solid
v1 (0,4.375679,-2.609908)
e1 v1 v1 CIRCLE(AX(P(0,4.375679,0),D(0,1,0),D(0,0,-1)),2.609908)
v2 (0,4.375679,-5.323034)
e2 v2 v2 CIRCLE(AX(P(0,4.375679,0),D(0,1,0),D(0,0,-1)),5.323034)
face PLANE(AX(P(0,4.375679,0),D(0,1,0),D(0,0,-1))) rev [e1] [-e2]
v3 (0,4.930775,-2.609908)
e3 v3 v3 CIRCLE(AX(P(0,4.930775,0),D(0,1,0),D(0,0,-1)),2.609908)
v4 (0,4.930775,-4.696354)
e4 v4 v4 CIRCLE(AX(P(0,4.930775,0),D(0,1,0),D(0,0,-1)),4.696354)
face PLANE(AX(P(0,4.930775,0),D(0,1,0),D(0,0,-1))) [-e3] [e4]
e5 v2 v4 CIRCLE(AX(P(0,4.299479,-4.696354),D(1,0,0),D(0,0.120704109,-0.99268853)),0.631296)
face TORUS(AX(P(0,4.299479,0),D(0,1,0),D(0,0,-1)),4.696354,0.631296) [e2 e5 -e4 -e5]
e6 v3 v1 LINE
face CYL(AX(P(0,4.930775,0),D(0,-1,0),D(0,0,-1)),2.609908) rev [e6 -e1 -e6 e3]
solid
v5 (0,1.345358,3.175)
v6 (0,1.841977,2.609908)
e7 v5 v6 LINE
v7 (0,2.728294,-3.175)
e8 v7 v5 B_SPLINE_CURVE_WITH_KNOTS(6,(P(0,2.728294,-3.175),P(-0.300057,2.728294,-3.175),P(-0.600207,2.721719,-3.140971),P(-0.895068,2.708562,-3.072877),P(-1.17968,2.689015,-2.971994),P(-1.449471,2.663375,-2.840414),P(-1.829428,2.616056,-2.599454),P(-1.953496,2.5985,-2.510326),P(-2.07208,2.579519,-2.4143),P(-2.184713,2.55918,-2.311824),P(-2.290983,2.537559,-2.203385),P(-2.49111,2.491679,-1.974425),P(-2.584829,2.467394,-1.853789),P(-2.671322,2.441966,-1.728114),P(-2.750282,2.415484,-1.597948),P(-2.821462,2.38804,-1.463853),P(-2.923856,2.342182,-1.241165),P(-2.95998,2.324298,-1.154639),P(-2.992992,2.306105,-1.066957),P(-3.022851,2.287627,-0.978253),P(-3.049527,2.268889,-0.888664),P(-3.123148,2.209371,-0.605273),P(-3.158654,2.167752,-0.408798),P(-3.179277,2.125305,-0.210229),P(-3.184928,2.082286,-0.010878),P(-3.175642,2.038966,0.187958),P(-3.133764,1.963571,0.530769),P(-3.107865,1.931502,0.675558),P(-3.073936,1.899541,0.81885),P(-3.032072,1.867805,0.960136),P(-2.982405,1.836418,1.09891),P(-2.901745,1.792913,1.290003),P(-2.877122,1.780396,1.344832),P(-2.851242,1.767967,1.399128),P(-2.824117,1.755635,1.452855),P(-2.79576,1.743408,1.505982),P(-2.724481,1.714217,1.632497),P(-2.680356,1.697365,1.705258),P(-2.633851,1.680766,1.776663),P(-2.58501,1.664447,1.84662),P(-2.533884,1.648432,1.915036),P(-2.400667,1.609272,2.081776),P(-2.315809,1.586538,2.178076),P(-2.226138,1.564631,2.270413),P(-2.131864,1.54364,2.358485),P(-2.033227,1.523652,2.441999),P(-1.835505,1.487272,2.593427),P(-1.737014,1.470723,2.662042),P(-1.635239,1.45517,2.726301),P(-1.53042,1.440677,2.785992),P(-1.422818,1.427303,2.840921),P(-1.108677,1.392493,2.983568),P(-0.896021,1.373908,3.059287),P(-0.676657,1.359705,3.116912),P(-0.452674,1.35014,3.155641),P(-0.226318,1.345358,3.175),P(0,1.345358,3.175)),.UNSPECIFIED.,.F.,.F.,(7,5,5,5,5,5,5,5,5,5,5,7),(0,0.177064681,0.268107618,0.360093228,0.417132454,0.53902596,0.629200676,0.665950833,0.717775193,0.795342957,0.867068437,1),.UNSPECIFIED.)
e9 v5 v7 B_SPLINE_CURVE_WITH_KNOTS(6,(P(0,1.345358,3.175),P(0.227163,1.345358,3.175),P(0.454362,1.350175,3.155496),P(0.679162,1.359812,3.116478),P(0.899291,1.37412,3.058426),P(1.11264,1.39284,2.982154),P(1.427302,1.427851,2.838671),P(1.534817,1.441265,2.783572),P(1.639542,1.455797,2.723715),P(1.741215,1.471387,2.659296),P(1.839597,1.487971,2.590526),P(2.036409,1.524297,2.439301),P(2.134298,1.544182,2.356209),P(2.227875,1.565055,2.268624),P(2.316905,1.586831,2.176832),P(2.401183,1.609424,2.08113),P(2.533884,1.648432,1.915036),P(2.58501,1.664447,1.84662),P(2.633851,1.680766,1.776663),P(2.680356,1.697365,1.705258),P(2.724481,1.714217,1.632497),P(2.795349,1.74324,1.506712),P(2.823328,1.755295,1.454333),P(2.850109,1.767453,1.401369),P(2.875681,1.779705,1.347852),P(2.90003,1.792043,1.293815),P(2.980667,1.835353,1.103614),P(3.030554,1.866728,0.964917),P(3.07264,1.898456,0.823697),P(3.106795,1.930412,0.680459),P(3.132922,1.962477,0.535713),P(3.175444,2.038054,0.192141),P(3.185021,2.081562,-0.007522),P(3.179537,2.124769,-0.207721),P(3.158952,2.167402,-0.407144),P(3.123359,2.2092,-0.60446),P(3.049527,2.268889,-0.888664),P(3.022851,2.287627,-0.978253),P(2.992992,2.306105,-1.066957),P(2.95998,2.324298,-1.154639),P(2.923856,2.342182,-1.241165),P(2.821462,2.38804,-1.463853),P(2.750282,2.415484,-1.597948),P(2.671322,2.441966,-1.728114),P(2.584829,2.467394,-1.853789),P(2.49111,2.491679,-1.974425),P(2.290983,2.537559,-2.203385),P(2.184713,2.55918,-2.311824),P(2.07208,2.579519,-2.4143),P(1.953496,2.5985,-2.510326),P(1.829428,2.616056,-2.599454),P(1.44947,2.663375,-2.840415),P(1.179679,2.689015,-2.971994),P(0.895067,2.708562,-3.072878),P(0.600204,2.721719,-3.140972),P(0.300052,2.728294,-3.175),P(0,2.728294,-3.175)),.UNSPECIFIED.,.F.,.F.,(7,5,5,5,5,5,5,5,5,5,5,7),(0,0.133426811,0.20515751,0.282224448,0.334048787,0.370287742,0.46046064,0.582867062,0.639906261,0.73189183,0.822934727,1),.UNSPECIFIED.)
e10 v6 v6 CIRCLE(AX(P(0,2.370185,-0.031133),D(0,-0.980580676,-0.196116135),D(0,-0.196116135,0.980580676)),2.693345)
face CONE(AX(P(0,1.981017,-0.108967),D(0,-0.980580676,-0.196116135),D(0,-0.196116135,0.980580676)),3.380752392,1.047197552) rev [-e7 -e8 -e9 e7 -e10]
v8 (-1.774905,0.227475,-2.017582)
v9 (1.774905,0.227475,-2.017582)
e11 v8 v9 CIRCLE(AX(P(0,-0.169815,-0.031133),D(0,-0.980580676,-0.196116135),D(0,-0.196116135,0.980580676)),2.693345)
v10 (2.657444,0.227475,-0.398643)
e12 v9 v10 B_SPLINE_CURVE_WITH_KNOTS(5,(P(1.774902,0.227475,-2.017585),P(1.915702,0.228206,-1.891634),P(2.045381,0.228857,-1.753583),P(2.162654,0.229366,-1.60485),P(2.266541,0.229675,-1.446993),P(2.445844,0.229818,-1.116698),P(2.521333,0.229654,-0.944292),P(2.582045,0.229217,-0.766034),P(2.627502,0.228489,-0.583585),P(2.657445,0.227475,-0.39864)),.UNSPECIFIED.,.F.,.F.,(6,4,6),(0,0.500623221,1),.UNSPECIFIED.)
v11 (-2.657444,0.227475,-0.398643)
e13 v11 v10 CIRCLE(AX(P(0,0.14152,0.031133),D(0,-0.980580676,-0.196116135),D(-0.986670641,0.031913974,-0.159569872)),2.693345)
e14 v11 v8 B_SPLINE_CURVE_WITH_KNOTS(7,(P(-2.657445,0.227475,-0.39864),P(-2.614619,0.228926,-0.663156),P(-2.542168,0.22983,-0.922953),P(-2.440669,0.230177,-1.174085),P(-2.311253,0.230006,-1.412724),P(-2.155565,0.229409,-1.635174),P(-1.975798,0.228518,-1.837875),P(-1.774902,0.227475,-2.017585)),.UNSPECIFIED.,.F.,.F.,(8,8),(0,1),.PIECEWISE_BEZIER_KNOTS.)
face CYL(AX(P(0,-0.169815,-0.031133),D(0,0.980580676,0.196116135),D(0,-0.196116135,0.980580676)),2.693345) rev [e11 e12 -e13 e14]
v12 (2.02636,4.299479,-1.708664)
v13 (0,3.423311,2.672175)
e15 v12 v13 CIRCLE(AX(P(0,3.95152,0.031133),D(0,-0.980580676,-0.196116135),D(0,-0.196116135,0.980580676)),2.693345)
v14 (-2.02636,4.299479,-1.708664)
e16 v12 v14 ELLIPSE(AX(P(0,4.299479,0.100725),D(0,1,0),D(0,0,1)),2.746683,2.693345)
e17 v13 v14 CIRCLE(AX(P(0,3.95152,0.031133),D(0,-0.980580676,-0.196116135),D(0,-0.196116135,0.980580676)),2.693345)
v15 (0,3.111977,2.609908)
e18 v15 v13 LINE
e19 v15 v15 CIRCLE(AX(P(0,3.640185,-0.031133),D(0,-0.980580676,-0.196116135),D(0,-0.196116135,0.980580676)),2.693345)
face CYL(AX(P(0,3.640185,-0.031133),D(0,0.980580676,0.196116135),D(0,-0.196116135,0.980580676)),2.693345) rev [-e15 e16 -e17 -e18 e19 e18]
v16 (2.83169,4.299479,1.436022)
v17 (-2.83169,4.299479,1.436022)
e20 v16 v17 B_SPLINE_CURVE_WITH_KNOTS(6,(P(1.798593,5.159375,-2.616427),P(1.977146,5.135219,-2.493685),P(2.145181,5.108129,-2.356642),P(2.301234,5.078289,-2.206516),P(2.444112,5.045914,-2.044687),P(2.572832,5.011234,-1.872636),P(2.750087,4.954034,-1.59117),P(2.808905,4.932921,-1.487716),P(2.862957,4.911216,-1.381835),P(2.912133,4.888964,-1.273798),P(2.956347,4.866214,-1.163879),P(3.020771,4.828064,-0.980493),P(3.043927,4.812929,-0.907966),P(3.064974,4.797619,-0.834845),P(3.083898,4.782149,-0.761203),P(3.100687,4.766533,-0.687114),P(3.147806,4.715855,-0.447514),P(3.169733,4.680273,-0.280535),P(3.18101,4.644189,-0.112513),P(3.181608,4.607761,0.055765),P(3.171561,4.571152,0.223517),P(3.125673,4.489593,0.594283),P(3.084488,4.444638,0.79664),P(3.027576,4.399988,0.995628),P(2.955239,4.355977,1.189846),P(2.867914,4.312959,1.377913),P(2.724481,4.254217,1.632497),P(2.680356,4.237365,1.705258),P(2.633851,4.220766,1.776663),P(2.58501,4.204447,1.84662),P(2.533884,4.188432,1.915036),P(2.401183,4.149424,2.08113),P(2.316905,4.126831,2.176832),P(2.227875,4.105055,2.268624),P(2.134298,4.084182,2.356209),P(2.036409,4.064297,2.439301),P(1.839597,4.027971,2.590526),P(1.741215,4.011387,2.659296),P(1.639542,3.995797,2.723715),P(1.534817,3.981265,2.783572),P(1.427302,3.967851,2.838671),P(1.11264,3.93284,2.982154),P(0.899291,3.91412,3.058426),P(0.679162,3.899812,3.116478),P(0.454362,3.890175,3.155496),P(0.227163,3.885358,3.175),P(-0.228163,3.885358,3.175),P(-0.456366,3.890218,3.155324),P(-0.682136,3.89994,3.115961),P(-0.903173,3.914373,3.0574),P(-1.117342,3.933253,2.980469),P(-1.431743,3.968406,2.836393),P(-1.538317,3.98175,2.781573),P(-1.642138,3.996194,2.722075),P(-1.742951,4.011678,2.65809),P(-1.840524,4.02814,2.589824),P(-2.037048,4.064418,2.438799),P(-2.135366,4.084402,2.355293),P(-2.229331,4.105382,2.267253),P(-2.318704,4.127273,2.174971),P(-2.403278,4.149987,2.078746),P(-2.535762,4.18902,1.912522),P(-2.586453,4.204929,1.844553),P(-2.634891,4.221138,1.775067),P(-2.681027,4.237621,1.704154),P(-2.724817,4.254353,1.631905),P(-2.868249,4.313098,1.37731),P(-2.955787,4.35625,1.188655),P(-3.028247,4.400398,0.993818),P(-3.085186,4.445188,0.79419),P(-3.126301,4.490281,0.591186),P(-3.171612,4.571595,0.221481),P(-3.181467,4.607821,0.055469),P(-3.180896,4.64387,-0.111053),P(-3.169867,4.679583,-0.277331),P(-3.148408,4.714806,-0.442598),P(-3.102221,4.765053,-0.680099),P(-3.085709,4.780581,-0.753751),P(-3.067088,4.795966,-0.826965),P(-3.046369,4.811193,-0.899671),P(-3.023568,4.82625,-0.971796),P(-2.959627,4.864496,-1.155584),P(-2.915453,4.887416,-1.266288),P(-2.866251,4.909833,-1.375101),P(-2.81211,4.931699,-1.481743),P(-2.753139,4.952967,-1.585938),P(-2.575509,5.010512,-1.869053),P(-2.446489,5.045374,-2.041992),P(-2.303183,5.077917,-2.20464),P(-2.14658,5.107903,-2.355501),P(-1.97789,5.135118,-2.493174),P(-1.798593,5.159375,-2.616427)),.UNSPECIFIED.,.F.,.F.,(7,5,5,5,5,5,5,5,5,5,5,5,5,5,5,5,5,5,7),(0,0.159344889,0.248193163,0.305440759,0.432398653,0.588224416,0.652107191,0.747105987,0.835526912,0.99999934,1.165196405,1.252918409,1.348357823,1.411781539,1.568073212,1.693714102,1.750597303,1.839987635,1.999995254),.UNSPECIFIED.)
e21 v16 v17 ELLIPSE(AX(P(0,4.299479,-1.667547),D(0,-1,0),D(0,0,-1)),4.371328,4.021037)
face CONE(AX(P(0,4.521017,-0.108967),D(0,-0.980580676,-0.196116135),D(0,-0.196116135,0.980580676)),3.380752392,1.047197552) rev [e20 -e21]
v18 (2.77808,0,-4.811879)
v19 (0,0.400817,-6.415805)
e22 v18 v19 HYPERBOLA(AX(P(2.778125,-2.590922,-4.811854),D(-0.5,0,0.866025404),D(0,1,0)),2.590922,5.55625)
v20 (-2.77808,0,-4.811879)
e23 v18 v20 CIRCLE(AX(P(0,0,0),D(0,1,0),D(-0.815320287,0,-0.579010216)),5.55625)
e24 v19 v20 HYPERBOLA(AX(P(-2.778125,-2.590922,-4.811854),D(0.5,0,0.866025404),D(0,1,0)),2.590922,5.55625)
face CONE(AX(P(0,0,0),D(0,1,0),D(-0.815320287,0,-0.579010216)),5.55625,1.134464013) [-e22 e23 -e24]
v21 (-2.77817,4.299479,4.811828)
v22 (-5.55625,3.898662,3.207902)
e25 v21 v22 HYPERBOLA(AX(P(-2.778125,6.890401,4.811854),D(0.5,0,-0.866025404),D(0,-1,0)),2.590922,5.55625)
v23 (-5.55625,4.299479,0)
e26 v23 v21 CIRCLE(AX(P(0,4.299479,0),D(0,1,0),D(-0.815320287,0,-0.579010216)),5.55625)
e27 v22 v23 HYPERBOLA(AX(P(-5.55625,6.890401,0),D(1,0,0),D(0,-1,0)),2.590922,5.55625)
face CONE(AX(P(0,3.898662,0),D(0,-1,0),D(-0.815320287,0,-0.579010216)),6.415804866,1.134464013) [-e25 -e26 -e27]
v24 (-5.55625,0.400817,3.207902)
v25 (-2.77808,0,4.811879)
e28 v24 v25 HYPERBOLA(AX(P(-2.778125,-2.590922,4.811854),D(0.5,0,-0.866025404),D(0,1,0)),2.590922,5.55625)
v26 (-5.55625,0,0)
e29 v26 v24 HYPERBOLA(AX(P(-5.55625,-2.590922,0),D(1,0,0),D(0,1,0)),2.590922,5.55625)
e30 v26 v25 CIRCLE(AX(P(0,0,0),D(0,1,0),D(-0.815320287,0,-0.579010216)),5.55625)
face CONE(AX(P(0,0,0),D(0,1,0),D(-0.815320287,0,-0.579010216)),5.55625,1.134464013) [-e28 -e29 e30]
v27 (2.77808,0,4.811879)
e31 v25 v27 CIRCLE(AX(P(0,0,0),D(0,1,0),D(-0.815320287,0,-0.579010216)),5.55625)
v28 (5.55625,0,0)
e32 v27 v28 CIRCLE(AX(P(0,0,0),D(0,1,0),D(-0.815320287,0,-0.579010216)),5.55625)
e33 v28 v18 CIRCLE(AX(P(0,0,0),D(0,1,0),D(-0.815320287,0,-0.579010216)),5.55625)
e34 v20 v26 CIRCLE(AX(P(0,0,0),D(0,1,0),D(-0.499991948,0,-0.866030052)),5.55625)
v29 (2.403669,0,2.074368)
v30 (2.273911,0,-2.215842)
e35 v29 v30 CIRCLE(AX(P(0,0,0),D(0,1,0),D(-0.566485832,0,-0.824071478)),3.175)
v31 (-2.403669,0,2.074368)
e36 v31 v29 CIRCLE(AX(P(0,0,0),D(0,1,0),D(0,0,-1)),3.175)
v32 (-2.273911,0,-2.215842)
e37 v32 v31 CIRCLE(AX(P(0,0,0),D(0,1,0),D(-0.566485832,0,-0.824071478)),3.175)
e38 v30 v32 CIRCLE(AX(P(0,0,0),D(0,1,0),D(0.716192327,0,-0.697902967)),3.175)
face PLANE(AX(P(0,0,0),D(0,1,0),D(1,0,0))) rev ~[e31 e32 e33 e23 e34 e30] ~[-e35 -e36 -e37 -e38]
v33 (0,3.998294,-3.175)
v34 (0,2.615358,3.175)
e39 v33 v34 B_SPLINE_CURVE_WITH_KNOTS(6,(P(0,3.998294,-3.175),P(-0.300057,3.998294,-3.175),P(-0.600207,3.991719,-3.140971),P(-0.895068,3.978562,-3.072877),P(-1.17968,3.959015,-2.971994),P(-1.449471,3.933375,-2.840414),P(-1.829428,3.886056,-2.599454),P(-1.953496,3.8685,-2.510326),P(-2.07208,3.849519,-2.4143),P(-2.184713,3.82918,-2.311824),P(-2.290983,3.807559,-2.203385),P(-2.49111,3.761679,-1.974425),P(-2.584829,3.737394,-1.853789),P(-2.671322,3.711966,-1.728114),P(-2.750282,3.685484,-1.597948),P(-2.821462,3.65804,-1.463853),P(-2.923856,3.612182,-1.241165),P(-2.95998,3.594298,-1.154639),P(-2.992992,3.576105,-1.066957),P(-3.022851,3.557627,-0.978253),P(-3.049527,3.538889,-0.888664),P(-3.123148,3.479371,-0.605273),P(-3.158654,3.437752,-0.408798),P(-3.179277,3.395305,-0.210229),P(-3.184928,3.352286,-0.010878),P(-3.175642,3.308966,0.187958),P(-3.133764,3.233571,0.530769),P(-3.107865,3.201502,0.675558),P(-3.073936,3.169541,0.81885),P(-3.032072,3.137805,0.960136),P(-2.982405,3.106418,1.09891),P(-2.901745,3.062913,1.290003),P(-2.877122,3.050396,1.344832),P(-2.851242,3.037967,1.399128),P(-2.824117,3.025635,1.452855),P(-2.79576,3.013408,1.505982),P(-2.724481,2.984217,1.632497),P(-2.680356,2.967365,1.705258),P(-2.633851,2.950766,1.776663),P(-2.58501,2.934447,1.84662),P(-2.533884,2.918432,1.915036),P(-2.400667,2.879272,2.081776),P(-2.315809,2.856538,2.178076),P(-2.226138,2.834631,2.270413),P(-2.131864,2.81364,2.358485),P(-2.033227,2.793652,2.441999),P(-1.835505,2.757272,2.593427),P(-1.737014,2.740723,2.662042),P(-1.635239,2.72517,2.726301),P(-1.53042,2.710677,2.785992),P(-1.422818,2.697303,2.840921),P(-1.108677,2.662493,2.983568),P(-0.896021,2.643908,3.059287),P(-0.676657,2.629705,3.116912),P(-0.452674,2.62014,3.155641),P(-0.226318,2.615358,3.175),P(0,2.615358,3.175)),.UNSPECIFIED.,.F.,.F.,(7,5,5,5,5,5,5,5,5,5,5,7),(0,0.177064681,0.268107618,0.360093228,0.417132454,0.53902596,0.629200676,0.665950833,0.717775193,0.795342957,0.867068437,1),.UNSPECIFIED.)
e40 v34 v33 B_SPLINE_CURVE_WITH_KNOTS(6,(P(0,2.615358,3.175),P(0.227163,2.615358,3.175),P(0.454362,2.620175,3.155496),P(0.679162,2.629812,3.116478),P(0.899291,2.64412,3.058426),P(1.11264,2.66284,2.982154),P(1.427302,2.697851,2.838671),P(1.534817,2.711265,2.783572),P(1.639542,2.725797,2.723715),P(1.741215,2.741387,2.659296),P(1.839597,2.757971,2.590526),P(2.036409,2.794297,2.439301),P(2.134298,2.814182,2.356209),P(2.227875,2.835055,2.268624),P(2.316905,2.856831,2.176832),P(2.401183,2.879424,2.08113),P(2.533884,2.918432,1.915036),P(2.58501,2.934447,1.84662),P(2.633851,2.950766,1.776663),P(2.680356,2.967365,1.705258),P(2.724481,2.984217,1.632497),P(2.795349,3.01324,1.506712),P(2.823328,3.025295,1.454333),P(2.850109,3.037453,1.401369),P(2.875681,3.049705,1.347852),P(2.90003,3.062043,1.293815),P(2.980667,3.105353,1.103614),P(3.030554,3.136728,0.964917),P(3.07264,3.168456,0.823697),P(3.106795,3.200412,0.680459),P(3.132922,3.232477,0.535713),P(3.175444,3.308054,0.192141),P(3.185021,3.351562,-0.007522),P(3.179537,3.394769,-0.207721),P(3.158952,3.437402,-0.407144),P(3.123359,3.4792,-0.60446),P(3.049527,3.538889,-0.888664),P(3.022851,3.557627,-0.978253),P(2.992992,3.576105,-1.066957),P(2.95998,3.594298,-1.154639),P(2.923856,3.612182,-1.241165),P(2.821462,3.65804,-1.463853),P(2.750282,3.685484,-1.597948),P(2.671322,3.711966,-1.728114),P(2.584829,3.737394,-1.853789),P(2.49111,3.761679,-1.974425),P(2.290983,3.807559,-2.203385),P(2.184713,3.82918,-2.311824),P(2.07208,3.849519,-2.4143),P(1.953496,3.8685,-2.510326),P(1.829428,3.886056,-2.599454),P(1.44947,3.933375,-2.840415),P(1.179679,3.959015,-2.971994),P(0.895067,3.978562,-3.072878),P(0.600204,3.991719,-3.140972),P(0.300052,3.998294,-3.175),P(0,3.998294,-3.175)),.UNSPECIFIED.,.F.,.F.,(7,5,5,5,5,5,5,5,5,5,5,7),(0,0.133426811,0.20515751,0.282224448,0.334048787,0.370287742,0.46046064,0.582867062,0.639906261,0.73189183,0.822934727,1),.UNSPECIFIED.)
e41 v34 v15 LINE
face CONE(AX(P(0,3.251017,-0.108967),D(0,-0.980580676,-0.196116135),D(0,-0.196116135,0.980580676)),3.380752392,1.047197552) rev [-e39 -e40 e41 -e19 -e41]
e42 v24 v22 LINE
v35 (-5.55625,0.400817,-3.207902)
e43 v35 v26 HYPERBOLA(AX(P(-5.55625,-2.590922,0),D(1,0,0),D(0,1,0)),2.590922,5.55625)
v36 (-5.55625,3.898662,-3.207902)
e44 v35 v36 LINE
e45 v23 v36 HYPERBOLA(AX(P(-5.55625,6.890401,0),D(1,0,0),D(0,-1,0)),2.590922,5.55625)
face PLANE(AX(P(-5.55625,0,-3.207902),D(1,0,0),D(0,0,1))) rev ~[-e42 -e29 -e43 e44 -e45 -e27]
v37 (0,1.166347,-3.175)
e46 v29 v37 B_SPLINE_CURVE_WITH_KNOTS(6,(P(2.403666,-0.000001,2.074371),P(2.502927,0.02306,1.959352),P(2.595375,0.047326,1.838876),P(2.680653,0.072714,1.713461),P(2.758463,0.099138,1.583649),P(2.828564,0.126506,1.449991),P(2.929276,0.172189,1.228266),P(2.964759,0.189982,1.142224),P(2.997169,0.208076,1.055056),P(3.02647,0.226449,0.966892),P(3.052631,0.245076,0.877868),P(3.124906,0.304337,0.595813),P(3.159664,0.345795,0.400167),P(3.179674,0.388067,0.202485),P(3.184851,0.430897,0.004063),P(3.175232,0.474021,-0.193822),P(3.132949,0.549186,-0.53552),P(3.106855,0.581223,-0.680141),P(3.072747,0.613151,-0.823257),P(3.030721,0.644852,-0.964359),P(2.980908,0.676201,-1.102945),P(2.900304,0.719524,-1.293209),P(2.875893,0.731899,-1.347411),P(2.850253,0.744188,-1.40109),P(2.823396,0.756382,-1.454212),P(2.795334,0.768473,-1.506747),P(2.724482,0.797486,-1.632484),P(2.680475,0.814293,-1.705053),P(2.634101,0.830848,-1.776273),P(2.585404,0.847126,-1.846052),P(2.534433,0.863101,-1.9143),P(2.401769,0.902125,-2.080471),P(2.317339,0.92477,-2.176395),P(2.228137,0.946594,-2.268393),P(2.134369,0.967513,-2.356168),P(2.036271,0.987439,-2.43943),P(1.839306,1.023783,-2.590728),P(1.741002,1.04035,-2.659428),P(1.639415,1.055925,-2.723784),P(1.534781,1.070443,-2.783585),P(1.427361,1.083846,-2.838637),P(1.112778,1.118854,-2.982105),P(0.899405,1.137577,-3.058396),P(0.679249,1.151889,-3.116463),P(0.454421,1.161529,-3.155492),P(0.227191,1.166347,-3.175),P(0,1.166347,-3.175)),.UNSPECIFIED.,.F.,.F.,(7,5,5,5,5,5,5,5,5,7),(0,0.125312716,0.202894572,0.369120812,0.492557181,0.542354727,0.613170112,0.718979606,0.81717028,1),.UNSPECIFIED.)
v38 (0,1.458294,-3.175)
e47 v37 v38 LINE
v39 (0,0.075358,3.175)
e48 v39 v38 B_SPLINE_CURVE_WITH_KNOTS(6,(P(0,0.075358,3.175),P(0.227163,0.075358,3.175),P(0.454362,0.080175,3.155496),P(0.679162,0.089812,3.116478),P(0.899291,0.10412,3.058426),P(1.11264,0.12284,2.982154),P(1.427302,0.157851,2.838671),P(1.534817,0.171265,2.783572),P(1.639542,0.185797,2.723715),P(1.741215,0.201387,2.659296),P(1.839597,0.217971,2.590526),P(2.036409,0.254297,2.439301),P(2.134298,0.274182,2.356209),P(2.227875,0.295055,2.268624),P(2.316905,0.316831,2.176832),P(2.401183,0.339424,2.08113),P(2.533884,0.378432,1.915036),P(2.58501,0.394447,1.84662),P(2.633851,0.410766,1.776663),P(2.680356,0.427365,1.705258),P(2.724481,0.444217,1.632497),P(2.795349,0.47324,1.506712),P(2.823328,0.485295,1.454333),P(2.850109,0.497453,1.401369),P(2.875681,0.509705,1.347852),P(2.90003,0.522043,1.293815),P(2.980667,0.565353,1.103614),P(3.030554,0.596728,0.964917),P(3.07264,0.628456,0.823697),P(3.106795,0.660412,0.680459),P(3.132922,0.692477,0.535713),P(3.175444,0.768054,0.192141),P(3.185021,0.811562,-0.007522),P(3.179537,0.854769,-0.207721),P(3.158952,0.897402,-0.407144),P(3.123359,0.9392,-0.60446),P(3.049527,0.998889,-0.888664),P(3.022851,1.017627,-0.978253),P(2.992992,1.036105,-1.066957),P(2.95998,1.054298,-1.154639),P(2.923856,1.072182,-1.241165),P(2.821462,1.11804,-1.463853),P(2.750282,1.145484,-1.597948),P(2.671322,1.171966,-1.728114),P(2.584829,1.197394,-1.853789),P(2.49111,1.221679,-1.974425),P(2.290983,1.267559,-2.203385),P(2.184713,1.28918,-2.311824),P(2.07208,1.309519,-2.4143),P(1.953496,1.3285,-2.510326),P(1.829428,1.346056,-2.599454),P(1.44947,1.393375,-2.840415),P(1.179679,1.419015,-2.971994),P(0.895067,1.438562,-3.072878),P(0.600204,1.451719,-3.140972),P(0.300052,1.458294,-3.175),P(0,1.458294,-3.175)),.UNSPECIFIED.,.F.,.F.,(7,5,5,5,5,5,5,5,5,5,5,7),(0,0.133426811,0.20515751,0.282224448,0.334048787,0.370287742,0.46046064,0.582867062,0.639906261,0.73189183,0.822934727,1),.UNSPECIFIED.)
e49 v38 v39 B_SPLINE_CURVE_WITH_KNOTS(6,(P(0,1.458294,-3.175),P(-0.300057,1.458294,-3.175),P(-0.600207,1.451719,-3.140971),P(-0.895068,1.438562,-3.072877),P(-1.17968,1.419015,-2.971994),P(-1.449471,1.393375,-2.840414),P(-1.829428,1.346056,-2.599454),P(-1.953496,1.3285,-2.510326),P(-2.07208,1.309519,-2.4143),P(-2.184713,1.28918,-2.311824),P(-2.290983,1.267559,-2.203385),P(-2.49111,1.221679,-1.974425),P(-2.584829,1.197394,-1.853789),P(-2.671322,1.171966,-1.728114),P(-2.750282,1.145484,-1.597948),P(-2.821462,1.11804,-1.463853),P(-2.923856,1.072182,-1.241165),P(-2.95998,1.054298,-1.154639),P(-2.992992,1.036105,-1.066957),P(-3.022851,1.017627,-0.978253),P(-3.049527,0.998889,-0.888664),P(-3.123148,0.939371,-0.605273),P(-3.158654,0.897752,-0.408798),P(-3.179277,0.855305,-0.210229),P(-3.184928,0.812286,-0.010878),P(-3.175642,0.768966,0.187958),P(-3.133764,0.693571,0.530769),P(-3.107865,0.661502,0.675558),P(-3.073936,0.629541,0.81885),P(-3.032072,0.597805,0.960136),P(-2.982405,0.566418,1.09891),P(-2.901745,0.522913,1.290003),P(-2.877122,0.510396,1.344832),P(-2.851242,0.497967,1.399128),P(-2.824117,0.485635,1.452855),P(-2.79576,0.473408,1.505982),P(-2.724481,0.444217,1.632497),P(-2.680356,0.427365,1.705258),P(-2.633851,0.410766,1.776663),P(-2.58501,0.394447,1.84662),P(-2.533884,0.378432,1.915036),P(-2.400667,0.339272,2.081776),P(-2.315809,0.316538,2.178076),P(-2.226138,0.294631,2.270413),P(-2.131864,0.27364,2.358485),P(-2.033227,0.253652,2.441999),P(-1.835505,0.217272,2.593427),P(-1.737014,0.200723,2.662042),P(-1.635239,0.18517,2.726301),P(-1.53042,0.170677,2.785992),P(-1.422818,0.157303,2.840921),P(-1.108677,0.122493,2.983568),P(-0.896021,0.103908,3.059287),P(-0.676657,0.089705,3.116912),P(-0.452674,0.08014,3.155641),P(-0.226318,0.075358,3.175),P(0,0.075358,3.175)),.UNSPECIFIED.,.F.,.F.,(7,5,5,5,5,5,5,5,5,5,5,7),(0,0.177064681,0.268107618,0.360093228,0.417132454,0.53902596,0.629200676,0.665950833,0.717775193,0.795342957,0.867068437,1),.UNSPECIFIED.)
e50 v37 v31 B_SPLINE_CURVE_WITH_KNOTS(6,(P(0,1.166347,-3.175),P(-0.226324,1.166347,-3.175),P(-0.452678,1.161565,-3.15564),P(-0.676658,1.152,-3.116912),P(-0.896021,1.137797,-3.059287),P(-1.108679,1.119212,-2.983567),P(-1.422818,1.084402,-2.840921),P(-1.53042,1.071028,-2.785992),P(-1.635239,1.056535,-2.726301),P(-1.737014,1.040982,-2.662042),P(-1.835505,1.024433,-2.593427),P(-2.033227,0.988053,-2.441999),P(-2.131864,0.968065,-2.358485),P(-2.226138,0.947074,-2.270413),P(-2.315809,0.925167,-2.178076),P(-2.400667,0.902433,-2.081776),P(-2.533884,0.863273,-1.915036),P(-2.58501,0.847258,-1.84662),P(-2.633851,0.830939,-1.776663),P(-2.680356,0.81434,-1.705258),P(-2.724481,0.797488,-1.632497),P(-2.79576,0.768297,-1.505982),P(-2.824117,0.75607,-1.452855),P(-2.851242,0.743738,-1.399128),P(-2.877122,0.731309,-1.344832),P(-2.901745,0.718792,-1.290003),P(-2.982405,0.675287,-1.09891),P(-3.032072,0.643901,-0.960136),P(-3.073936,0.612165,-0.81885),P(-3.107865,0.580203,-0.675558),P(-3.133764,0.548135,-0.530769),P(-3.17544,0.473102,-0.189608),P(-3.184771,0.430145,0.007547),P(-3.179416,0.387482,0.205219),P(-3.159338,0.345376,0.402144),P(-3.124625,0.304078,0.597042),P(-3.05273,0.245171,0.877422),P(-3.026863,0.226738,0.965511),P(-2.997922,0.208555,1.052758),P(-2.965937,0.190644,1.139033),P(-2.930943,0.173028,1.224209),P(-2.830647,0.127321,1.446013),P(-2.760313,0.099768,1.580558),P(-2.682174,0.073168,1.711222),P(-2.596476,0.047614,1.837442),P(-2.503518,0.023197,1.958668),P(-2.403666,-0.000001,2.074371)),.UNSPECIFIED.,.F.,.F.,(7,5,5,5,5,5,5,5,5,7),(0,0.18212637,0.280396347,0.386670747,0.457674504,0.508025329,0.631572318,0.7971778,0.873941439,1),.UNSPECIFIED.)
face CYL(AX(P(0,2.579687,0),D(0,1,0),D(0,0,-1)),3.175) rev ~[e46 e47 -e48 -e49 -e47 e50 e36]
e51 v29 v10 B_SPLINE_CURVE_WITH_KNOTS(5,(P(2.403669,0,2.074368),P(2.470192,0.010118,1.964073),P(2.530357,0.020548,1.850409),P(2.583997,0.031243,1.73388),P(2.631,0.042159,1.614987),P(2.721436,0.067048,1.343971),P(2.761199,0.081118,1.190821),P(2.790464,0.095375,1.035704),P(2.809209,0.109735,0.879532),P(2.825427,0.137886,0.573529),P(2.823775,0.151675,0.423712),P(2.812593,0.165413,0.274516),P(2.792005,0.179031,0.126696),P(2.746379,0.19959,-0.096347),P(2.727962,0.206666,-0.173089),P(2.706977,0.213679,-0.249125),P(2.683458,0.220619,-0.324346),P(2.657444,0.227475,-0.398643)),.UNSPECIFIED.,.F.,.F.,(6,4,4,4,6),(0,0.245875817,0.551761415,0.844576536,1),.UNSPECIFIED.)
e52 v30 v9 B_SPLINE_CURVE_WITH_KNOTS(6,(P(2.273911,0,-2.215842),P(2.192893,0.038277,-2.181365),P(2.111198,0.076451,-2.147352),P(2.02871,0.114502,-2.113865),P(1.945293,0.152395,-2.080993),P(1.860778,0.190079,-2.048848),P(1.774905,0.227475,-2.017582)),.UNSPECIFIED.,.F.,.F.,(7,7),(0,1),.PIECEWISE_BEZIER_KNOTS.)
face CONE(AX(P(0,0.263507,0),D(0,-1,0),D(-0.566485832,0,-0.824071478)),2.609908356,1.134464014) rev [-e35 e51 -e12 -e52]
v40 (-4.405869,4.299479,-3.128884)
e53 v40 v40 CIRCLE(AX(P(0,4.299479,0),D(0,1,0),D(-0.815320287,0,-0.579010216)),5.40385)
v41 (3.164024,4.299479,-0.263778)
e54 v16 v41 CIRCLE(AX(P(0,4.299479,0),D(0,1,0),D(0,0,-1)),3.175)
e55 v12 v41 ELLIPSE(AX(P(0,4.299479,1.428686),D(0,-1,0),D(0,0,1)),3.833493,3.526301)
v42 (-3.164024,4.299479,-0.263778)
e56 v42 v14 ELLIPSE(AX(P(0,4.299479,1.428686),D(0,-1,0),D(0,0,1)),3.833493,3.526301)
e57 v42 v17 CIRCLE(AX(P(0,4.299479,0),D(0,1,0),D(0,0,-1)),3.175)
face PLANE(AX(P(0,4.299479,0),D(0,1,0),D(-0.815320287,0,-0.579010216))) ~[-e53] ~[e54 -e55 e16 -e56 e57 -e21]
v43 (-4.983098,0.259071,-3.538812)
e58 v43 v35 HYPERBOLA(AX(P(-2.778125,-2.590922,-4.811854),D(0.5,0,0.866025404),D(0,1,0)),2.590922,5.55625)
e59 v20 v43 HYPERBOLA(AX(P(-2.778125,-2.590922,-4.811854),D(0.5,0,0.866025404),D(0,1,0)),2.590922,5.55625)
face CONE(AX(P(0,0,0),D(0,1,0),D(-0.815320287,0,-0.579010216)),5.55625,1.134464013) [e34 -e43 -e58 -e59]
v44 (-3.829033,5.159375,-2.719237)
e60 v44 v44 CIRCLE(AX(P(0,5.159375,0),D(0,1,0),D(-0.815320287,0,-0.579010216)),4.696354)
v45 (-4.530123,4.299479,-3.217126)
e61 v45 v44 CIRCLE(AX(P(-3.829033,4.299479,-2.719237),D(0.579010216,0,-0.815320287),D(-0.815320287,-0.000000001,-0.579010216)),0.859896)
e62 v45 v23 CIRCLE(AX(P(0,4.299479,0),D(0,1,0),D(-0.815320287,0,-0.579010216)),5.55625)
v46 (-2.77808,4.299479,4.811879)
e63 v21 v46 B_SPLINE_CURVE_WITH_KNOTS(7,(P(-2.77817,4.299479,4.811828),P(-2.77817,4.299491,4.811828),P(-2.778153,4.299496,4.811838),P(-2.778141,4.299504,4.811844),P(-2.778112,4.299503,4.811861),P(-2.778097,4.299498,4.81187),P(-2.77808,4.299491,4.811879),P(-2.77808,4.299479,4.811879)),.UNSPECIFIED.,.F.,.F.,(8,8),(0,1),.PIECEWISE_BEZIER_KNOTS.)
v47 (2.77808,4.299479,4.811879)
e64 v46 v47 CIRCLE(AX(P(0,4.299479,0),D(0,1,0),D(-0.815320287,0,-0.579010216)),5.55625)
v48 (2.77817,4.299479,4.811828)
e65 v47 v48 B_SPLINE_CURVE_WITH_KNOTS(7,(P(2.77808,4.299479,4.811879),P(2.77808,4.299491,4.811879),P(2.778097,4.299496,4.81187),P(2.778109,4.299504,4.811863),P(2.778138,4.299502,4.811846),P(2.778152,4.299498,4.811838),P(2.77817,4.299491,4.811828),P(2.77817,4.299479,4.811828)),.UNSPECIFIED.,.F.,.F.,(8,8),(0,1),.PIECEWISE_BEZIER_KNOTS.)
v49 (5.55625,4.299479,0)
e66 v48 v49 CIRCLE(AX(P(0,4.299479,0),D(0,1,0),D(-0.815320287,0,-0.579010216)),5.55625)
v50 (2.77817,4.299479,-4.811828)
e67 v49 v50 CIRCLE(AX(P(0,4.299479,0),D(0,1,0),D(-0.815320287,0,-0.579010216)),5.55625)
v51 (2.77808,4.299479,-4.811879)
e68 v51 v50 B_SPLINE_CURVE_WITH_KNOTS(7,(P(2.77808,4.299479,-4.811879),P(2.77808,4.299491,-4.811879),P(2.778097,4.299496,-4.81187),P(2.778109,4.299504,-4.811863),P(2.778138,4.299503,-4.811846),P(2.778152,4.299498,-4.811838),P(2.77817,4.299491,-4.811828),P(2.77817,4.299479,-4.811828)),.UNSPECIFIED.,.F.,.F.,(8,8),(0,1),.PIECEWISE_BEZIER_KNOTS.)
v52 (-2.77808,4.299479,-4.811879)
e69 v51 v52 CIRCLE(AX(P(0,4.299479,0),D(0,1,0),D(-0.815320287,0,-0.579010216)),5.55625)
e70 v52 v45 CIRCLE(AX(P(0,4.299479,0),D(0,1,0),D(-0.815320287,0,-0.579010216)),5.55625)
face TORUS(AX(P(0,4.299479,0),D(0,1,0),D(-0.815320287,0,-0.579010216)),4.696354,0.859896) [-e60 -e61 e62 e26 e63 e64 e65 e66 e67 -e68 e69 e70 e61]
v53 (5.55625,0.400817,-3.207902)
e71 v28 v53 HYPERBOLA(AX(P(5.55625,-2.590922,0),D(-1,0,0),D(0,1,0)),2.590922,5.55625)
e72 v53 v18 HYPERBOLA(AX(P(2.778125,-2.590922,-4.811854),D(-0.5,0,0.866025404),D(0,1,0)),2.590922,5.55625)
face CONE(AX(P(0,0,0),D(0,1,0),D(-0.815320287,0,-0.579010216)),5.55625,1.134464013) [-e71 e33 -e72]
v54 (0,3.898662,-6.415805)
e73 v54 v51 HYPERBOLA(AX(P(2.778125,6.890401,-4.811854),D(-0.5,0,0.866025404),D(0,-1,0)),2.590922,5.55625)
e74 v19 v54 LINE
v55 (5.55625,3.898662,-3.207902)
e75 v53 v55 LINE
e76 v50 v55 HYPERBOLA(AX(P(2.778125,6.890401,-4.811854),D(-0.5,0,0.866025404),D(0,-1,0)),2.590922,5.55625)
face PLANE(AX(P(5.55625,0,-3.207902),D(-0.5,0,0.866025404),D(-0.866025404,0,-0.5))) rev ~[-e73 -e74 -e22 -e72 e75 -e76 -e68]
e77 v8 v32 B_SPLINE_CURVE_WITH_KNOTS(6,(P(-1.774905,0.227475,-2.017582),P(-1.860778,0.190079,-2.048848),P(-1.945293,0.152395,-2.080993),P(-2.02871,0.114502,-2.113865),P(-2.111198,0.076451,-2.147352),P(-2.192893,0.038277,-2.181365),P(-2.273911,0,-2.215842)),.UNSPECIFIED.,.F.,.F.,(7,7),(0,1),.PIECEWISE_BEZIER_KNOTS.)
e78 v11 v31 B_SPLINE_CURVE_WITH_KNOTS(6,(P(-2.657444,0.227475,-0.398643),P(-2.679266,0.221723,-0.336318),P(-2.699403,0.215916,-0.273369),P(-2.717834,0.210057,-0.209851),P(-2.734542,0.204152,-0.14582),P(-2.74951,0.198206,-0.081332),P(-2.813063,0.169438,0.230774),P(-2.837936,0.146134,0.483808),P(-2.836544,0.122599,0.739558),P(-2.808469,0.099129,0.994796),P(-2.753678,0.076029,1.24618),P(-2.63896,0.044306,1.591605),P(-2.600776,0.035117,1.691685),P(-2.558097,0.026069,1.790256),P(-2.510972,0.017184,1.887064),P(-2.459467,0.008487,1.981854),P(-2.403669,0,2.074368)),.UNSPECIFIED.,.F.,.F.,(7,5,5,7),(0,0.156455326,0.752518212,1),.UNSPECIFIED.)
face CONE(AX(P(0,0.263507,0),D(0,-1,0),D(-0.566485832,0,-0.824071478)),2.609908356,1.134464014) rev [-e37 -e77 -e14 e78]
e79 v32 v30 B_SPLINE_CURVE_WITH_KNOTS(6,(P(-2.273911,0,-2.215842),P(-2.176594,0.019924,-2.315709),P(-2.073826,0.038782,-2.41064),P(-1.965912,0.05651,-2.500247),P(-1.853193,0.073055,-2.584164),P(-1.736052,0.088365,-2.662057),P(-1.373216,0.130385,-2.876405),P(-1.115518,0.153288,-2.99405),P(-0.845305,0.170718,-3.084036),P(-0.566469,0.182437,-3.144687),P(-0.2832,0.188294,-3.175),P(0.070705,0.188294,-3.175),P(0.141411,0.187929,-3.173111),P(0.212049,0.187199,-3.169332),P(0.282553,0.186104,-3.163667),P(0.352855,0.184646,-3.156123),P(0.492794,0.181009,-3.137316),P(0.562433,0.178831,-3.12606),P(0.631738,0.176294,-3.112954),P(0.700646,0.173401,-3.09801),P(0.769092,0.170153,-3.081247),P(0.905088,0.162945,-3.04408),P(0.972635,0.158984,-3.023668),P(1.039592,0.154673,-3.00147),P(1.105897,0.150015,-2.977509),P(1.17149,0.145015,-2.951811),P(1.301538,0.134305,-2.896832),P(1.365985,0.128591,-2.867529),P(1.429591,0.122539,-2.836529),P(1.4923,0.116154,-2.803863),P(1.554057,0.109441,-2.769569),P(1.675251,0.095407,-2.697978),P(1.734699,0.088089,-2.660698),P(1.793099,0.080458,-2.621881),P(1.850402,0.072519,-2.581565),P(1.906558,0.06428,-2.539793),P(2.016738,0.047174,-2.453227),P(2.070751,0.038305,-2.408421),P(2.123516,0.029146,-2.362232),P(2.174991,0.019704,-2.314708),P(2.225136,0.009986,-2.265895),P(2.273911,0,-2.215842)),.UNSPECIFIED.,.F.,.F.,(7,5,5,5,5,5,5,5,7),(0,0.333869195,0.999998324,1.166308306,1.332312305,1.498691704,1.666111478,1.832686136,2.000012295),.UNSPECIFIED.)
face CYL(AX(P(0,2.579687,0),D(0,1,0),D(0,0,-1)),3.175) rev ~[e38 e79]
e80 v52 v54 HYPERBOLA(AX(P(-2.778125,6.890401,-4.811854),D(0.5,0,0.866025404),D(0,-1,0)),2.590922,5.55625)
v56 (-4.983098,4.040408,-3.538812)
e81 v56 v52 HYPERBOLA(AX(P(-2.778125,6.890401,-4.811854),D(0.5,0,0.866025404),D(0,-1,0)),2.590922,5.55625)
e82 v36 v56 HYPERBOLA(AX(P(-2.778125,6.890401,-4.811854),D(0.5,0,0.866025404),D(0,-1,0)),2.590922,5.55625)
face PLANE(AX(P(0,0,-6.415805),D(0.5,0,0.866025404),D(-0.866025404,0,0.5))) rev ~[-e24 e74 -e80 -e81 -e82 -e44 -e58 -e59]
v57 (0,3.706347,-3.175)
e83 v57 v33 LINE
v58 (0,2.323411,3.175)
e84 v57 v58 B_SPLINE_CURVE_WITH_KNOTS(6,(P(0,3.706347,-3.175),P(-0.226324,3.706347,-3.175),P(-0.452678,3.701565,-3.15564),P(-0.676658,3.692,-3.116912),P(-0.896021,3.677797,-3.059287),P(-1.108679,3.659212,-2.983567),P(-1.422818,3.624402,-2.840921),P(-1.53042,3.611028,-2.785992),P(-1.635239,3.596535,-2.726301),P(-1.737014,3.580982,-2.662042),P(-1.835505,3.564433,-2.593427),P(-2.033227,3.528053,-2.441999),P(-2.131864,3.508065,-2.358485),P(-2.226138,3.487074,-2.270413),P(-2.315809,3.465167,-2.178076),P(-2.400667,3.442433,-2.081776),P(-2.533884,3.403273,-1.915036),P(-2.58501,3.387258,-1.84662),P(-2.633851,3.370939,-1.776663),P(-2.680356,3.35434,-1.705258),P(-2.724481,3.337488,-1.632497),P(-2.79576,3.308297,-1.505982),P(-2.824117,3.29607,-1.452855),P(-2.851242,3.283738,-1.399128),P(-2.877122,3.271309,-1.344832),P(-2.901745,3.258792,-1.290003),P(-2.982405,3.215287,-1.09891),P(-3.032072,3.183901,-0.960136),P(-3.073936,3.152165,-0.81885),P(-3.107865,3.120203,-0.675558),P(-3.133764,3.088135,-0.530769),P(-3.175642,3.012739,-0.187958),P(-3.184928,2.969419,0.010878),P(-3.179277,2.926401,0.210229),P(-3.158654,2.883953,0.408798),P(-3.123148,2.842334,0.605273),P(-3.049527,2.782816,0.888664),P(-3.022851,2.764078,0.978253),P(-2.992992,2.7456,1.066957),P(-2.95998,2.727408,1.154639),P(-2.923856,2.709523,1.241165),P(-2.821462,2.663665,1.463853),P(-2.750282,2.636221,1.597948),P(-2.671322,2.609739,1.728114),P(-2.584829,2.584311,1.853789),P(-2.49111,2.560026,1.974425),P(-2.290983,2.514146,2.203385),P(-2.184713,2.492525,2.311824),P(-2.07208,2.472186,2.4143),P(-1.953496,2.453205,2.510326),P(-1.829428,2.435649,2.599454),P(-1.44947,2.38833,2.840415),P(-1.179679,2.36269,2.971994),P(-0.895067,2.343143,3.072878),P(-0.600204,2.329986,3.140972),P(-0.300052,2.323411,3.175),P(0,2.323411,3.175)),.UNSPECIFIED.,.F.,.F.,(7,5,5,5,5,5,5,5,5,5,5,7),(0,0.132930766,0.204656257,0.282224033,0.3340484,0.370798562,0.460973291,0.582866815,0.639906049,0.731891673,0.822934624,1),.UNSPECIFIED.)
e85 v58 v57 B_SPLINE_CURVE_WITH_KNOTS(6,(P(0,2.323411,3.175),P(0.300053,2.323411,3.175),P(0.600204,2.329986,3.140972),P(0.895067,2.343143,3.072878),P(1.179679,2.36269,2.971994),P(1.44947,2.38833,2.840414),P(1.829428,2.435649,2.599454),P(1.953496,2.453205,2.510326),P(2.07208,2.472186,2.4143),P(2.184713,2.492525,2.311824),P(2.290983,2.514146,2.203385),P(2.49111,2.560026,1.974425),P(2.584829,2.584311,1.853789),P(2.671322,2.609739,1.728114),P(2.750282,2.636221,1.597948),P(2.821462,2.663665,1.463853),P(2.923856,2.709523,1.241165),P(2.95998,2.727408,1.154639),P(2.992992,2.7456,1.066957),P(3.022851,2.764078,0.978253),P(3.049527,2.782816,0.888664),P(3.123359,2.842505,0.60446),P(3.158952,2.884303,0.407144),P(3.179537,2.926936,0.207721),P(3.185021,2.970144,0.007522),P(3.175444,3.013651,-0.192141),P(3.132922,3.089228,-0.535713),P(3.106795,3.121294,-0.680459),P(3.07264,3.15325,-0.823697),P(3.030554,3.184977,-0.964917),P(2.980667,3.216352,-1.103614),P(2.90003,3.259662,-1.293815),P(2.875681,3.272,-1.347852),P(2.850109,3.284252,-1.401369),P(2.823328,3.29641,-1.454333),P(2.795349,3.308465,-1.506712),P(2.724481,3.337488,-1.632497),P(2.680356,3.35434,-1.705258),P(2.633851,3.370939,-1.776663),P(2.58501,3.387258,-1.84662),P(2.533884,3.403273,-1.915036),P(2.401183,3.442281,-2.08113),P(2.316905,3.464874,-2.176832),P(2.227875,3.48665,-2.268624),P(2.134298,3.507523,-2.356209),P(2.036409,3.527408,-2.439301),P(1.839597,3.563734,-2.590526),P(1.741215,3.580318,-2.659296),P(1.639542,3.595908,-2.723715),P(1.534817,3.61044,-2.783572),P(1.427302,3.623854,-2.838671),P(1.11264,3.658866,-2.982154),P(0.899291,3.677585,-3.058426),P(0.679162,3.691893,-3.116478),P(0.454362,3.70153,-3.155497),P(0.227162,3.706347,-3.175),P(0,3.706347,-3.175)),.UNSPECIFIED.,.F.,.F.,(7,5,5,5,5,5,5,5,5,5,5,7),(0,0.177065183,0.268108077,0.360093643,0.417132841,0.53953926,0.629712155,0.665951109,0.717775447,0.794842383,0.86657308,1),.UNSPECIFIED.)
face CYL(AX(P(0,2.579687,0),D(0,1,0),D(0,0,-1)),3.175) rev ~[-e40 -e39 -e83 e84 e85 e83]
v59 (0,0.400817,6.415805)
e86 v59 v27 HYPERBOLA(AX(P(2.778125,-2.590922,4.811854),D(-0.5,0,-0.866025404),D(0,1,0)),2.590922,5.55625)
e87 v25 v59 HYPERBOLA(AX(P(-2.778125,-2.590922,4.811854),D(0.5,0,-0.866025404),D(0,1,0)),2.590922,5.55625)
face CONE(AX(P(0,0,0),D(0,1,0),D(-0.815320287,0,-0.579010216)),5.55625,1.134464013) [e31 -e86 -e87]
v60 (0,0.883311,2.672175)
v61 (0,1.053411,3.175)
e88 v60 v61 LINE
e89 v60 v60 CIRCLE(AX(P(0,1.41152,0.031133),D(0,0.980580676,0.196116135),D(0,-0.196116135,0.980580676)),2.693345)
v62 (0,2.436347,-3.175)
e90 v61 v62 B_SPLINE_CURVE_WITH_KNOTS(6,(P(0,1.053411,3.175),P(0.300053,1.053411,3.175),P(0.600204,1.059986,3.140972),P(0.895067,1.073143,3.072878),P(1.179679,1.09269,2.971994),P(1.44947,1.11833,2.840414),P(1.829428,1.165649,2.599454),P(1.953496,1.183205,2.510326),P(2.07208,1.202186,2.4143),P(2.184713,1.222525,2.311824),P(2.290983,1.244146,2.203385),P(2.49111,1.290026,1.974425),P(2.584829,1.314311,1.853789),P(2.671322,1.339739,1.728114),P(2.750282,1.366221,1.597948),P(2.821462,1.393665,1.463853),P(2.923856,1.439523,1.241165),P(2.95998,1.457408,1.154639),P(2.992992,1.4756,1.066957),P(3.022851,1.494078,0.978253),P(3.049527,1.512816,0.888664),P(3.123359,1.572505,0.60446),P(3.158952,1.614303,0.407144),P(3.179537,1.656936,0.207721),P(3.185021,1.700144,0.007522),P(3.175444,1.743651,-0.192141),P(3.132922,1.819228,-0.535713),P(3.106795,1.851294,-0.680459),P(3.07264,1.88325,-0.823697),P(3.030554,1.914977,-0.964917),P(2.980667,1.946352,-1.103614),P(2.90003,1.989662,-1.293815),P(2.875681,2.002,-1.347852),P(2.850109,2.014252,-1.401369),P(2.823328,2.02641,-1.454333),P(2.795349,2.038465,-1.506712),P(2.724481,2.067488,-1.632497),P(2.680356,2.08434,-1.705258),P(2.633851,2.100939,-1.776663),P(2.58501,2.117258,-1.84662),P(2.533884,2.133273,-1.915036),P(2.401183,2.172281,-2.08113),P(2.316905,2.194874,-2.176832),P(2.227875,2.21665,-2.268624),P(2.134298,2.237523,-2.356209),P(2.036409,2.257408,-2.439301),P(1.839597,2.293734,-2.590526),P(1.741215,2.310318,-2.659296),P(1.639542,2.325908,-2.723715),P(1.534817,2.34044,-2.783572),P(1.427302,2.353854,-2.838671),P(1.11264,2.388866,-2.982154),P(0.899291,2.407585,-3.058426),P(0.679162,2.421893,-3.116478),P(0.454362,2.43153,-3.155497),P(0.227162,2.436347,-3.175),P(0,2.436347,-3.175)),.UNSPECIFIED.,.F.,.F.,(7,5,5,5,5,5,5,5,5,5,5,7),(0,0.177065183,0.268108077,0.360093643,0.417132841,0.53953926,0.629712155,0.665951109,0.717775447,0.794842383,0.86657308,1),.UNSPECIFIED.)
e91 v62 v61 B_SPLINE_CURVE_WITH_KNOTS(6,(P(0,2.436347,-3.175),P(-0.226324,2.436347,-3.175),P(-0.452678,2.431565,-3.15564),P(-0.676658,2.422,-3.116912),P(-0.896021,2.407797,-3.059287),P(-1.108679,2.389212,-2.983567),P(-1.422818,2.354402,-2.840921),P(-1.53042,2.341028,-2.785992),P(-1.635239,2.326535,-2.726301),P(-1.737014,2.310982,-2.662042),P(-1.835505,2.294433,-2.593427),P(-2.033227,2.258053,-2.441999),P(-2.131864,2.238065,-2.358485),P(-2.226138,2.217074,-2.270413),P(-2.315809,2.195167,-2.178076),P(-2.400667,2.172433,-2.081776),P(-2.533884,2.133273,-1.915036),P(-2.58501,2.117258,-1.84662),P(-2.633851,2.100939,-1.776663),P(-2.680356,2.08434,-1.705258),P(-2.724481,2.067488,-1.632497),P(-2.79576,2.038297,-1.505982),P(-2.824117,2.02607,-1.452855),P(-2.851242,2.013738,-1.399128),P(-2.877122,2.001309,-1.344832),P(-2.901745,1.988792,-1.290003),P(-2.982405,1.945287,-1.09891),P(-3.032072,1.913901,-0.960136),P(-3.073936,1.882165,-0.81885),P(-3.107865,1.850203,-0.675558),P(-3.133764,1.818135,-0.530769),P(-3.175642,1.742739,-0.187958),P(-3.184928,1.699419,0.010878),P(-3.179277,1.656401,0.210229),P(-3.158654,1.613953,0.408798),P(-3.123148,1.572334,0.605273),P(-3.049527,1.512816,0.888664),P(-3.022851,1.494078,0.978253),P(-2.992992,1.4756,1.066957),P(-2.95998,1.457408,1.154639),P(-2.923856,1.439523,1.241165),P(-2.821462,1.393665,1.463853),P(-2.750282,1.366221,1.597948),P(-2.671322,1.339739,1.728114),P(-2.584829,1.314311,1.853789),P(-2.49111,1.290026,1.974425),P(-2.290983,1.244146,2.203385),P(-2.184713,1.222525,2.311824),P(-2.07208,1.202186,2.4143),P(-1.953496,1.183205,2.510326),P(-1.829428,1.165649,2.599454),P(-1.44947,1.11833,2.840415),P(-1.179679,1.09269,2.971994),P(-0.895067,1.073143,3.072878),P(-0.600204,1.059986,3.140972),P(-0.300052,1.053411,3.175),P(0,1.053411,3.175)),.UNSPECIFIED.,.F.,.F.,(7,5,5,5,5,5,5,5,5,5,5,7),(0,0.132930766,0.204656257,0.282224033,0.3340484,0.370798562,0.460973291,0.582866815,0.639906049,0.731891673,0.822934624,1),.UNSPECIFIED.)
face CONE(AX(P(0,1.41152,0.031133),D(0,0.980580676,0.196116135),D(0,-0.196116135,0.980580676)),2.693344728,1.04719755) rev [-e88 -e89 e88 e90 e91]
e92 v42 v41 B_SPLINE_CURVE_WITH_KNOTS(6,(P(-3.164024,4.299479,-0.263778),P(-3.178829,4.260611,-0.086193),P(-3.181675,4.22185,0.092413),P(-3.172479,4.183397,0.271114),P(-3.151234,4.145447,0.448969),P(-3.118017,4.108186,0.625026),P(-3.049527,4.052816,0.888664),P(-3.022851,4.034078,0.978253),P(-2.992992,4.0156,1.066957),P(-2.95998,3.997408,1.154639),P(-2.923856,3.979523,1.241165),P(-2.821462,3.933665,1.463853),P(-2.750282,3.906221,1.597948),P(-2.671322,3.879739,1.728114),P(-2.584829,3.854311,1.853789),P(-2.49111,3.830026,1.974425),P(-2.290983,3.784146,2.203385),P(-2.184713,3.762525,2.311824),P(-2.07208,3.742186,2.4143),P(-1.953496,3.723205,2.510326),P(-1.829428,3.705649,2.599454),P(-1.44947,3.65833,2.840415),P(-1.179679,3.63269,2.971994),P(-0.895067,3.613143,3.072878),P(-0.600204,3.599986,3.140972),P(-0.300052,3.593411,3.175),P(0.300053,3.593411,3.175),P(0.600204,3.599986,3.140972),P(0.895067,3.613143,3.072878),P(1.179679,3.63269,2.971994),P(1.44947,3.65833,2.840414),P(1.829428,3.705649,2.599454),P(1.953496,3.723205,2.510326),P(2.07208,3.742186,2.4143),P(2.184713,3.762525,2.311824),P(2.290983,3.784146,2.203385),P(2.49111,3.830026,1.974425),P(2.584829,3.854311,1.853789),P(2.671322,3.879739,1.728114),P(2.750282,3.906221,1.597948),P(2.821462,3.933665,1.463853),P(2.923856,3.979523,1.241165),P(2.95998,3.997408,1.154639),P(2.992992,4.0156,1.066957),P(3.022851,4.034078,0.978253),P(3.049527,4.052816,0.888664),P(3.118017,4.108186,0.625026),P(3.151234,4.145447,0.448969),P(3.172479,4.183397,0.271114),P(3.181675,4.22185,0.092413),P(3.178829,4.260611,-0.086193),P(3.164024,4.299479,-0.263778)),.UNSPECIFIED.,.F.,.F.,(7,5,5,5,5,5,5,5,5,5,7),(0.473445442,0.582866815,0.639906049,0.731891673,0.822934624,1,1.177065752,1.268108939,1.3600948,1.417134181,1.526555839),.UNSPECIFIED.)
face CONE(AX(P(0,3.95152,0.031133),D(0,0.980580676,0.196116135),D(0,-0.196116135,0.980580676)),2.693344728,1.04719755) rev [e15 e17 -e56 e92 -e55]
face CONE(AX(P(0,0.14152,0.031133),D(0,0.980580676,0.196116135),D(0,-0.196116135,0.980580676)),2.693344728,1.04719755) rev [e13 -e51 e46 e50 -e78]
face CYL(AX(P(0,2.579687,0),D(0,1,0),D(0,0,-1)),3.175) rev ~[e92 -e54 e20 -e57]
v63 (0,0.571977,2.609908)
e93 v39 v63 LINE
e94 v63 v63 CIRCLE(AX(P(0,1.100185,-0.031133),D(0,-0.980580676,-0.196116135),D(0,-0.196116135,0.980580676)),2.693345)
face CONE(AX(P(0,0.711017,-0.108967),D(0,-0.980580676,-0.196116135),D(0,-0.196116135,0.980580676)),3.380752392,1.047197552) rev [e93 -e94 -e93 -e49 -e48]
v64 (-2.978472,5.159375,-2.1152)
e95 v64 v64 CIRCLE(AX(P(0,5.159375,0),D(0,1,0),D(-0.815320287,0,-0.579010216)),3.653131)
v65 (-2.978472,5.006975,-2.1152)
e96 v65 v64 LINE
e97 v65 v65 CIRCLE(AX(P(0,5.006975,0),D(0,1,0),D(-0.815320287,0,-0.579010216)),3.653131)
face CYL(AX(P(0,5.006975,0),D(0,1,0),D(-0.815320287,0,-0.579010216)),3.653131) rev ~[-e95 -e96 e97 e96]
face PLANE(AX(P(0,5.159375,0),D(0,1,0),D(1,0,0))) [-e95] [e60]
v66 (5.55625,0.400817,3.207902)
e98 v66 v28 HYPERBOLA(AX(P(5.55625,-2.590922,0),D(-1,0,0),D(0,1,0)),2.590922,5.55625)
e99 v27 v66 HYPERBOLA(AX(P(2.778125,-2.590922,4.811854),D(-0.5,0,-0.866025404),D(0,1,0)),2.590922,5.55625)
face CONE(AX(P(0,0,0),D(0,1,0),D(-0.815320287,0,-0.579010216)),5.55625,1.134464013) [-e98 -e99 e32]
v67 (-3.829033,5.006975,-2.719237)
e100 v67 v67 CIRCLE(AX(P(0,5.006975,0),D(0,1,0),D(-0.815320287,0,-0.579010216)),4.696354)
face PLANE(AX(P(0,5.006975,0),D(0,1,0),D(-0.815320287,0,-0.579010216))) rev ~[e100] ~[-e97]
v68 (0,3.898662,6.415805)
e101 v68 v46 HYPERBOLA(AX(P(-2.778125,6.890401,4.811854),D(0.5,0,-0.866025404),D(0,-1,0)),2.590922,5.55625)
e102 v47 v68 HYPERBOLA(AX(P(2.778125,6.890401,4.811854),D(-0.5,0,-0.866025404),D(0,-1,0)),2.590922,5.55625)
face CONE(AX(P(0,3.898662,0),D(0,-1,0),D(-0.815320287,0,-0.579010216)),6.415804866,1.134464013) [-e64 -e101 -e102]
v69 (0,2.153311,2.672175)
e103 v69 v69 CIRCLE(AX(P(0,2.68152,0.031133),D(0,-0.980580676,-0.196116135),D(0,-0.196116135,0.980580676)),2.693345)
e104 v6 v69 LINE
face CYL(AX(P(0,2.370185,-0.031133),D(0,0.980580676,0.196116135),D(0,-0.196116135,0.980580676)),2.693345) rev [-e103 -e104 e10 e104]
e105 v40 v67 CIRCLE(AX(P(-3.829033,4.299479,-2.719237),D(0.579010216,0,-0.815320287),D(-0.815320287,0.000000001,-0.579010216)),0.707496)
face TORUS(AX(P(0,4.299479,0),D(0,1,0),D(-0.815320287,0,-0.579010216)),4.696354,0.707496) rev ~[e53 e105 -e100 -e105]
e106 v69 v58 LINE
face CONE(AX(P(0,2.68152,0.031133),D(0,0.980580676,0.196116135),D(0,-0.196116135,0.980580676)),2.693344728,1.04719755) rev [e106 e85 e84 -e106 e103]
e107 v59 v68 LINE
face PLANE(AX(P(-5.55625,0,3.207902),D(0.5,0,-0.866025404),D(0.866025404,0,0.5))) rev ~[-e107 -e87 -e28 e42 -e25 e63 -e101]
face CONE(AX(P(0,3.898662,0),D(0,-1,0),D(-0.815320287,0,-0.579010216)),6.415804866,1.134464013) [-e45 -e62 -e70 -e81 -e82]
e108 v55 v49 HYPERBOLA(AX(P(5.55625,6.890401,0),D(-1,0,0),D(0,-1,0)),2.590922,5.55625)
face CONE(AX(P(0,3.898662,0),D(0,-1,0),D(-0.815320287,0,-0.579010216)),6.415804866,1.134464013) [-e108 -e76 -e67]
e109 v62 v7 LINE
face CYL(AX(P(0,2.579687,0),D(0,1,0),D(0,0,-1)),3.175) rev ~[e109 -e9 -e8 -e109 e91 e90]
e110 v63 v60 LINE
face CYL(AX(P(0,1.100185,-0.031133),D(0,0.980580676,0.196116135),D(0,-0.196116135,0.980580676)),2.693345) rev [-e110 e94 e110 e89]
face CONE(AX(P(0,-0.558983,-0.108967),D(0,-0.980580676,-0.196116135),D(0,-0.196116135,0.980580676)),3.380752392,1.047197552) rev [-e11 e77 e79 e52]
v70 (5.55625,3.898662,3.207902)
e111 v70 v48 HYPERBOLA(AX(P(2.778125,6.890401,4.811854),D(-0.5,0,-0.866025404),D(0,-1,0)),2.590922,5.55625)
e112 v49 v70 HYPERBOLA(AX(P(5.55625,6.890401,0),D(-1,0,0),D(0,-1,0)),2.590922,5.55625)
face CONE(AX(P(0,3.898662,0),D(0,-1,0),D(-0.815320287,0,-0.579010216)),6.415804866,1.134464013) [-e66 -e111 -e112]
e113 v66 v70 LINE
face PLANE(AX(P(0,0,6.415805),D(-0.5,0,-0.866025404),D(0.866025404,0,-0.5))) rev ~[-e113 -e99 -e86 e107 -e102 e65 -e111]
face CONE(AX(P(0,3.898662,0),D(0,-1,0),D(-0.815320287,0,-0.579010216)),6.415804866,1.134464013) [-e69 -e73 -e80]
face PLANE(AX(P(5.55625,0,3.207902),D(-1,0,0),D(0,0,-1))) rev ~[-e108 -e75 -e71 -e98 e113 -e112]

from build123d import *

# Parameters (mm, degrees)
EXTRUDE1_DEPTH      = 5.159375
SKETCH2_W           = 3.175
SKETCH2_H           = 5.159375
LPATTERN1_COUNT     = 4
LPATTERN1_PITCH     = 1.27
LPATTERN1_COL_COUNT = 2
LPATTERN1_COL_PITCH = 1.27


with BuildPart() as part:
    # Sketch1 → Extrude1 (new body)
    with BuildSketch(Plane(origin=(0, 0, 0), x_dir=(1, 0, 0), z_dir=(0, 1, 0))):
        Polygon((0, 6.415804866), (-5.55625, 3.207902433), (-5.55625, -3.207902433), (0, -6.415804866), (5.55625, -3.207902433), (5.55625, 3.207902433), align=None)
    extrude(amount=EXTRUDE1_DEPTH)

    # Sketch4 → Cut-Revolve2 (revolve, cut)
    with BuildSketch(Plane(origin=(0, 0, 0), x_dir=(0, 0, -1), z_dir=(1, 0, 0)), mode=Mode.PRIVATE) as cut_revolve2_sk:
        Polygon((0, 5.159375), (3.175, 5.159375), (2.609908356, 4.895868439), (2.609908356, 0.263506561), (3.175, 0), (0, 0), align=None)
    revolve(cut_revolve2_sk.sketch.rotate(Axis((0, 5.159375, 0), (0, 1, 0)), 34.505533911), axis=Axis((0, 5.159375, 0), (0, 1, 0)), mode=Mode.SUBTRACT)  # turned: the seam where the file's is


with BuildPart() as body_2:
    # Sketch2 → Revolve1 (revolve)
    with BuildSketch(Plane(origin=(0, 0, 0), x_dir=(0, 0, -1), z_dir=(1, 0, 0))):
        with Locations((1.5875, 2.5796875)):
            Rectangle(SKETCH2_W, SKETCH2_H)
    revolve(axis=Axis((0, -3.175, 0), (0, 1, 0)))

    # Sketch3 → Cut-Revolve1 (revolve, cut)
    with BuildSketch(Plane(origin=(0, 0, 0), x_dir=(0, 0, -1), z_dir=(1, 0, 0)), mode=Mode.PRIVATE) as cut_revolve1_sk:
        Polygon((3.206133436, 5.003707818), (3.424067492, 3.914037542), (2.672175229, 4.168393763), (2.609908356, 4.479728128), align=None)
    cut_revolve1 = revolve(cut_revolve1_sk.sketch.rotate(Axis((0, 5.159375, 0.272704483), (0, -0.980580676, -0.196116135)), 180), axis=Axis((0, 5.159375, 0.272704483), (0, -0.980580676, -0.196116135)), mode=Mode.SUBTRACT)  # turned: the seam where the file's is

    # LPattern1: Cut-Revolve1 ×4
    with Locations(*[(0, -i * LPATTERN1_PITCH, 0) for i in range(1, LPATTERN1_COUNT)]):
        add(cut_revolve1, mode=Mode.SUBTRACT)

    # LPattern1 col: Cut-Revolve1 ×2
    with Locations(*[(0, i * LPATTERN1_COL_PITCH, 0) for i in range(1, LPATTERN1_COL_COUNT)]):
        add(cut_revolve1, mode=Mode.SUBTRACT)


with BuildPart() as part_1:
    add(part.part)

    # Combine1: cut body 2
    add(body_2.part, mode=Mode.SUBTRACT)

    # Sketch5 → Cut-Revolve3 (revolve, cut)
    with BuildSketch(Plane(origin=(0, 0, 0), x_dir=(0, 0, -1), z_dir=(1, 0, 0)), mode=Mode.PRIVATE) as cut_revolve3_sk:
        with BuildLine():
            Line((0, 0), (5.55625, 0))
            Line((5.55625, 0), (6.415804866, 0.400817017))
            Line((6.415804866, 0.400817017), (6.415804866, 3.89866215))
            Line((6.415804866, 3.89866215), (5.55625, 4.299479167))
            ThreePointArc((5.55625, 4.299479167), (5.304392342, 4.907517342), (4.696354167, 5.159375))
            Line((4.696354167, 5.159375), (4.696354167, 6.429375))
            Line((4.696354167, 6.429375), (7.685804866, 6.429375))
            Line((7.685804866, 6.429375), (7.685804866, -1.27))
            Line((7.685804866, -1.27), (0, -1.27))
            Line((0, -1.27), (0, 0))
        make_face()
    revolve(cut_revolve3_sk.sketch.rotate(Axis((0, 0, 0), (0, 1, 0)), 54.619043446), axis=Axis((0, 0, 0), (0, 1, 0)), mode=Mode.SUBTRACT)  # turned: the seam where the file's is

    # Sketch6 → Cut-Revolve4 (revolve, cut)
    with BuildSketch(Plane(origin=(0, 0, 0), x_dir=(0, 0, -1), z_dir=(1, 0, 0)), mode=Mode.PRIVATE) as cut_revolve4_sk:
        with BuildLine():
            Line((0, 4.299479167), (5.40385, 4.299479167))
            ThreePointArc((5.40385, 4.299479167), (5.196629268, 4.799754268), (4.696354167, 5.006975))
            Line((4.696354167, 5.006975), (3.653131261, 5.006975))
            Line((3.653131261, 5.006975), (3.653131261, 6.429375))
            Line((3.653131261, 6.429375), (0, 6.429375))
            Line((0, 6.429375), (0, 4.299479167))
        make_face()
    revolve(cut_revolve4_sk.sketch.rotate(Axis((0, 6.429375, 0), (0, 1, 0)), 54.619043446), axis=Axis((0, 6.429375, 0), (0, 1, 0)), mode=Mode.SUBTRACT)  # turned: the seam where the file's is


with BuildPart() as body_2_2:
    # Sketch7 → Revolve2 (revolve)
    with BuildSketch(Plane(origin=(0, 0, 0), x_dir=(0, 0, -1), z_dir=(1, 0, 0))):
        with BuildLine():
            Line((2.609908356, 4.375679167), (5.3230343, 4.375679167))
            ThreePointArc((5.3230343, 4.375679167), (5.114940888, 4.772046184), (4.696354167, 4.930775))
            Line((4.696354167, 4.930775), (2.609908356, 4.930775))
            Line((2.609908356, 4.930775), (2.609908356, 4.375679167))
        make_face()
    revolve(axis=Axis((0, 4.375679167, 0), (0, 1, 0)))


solid = Compound([part_1.part, body_2_2.part])
